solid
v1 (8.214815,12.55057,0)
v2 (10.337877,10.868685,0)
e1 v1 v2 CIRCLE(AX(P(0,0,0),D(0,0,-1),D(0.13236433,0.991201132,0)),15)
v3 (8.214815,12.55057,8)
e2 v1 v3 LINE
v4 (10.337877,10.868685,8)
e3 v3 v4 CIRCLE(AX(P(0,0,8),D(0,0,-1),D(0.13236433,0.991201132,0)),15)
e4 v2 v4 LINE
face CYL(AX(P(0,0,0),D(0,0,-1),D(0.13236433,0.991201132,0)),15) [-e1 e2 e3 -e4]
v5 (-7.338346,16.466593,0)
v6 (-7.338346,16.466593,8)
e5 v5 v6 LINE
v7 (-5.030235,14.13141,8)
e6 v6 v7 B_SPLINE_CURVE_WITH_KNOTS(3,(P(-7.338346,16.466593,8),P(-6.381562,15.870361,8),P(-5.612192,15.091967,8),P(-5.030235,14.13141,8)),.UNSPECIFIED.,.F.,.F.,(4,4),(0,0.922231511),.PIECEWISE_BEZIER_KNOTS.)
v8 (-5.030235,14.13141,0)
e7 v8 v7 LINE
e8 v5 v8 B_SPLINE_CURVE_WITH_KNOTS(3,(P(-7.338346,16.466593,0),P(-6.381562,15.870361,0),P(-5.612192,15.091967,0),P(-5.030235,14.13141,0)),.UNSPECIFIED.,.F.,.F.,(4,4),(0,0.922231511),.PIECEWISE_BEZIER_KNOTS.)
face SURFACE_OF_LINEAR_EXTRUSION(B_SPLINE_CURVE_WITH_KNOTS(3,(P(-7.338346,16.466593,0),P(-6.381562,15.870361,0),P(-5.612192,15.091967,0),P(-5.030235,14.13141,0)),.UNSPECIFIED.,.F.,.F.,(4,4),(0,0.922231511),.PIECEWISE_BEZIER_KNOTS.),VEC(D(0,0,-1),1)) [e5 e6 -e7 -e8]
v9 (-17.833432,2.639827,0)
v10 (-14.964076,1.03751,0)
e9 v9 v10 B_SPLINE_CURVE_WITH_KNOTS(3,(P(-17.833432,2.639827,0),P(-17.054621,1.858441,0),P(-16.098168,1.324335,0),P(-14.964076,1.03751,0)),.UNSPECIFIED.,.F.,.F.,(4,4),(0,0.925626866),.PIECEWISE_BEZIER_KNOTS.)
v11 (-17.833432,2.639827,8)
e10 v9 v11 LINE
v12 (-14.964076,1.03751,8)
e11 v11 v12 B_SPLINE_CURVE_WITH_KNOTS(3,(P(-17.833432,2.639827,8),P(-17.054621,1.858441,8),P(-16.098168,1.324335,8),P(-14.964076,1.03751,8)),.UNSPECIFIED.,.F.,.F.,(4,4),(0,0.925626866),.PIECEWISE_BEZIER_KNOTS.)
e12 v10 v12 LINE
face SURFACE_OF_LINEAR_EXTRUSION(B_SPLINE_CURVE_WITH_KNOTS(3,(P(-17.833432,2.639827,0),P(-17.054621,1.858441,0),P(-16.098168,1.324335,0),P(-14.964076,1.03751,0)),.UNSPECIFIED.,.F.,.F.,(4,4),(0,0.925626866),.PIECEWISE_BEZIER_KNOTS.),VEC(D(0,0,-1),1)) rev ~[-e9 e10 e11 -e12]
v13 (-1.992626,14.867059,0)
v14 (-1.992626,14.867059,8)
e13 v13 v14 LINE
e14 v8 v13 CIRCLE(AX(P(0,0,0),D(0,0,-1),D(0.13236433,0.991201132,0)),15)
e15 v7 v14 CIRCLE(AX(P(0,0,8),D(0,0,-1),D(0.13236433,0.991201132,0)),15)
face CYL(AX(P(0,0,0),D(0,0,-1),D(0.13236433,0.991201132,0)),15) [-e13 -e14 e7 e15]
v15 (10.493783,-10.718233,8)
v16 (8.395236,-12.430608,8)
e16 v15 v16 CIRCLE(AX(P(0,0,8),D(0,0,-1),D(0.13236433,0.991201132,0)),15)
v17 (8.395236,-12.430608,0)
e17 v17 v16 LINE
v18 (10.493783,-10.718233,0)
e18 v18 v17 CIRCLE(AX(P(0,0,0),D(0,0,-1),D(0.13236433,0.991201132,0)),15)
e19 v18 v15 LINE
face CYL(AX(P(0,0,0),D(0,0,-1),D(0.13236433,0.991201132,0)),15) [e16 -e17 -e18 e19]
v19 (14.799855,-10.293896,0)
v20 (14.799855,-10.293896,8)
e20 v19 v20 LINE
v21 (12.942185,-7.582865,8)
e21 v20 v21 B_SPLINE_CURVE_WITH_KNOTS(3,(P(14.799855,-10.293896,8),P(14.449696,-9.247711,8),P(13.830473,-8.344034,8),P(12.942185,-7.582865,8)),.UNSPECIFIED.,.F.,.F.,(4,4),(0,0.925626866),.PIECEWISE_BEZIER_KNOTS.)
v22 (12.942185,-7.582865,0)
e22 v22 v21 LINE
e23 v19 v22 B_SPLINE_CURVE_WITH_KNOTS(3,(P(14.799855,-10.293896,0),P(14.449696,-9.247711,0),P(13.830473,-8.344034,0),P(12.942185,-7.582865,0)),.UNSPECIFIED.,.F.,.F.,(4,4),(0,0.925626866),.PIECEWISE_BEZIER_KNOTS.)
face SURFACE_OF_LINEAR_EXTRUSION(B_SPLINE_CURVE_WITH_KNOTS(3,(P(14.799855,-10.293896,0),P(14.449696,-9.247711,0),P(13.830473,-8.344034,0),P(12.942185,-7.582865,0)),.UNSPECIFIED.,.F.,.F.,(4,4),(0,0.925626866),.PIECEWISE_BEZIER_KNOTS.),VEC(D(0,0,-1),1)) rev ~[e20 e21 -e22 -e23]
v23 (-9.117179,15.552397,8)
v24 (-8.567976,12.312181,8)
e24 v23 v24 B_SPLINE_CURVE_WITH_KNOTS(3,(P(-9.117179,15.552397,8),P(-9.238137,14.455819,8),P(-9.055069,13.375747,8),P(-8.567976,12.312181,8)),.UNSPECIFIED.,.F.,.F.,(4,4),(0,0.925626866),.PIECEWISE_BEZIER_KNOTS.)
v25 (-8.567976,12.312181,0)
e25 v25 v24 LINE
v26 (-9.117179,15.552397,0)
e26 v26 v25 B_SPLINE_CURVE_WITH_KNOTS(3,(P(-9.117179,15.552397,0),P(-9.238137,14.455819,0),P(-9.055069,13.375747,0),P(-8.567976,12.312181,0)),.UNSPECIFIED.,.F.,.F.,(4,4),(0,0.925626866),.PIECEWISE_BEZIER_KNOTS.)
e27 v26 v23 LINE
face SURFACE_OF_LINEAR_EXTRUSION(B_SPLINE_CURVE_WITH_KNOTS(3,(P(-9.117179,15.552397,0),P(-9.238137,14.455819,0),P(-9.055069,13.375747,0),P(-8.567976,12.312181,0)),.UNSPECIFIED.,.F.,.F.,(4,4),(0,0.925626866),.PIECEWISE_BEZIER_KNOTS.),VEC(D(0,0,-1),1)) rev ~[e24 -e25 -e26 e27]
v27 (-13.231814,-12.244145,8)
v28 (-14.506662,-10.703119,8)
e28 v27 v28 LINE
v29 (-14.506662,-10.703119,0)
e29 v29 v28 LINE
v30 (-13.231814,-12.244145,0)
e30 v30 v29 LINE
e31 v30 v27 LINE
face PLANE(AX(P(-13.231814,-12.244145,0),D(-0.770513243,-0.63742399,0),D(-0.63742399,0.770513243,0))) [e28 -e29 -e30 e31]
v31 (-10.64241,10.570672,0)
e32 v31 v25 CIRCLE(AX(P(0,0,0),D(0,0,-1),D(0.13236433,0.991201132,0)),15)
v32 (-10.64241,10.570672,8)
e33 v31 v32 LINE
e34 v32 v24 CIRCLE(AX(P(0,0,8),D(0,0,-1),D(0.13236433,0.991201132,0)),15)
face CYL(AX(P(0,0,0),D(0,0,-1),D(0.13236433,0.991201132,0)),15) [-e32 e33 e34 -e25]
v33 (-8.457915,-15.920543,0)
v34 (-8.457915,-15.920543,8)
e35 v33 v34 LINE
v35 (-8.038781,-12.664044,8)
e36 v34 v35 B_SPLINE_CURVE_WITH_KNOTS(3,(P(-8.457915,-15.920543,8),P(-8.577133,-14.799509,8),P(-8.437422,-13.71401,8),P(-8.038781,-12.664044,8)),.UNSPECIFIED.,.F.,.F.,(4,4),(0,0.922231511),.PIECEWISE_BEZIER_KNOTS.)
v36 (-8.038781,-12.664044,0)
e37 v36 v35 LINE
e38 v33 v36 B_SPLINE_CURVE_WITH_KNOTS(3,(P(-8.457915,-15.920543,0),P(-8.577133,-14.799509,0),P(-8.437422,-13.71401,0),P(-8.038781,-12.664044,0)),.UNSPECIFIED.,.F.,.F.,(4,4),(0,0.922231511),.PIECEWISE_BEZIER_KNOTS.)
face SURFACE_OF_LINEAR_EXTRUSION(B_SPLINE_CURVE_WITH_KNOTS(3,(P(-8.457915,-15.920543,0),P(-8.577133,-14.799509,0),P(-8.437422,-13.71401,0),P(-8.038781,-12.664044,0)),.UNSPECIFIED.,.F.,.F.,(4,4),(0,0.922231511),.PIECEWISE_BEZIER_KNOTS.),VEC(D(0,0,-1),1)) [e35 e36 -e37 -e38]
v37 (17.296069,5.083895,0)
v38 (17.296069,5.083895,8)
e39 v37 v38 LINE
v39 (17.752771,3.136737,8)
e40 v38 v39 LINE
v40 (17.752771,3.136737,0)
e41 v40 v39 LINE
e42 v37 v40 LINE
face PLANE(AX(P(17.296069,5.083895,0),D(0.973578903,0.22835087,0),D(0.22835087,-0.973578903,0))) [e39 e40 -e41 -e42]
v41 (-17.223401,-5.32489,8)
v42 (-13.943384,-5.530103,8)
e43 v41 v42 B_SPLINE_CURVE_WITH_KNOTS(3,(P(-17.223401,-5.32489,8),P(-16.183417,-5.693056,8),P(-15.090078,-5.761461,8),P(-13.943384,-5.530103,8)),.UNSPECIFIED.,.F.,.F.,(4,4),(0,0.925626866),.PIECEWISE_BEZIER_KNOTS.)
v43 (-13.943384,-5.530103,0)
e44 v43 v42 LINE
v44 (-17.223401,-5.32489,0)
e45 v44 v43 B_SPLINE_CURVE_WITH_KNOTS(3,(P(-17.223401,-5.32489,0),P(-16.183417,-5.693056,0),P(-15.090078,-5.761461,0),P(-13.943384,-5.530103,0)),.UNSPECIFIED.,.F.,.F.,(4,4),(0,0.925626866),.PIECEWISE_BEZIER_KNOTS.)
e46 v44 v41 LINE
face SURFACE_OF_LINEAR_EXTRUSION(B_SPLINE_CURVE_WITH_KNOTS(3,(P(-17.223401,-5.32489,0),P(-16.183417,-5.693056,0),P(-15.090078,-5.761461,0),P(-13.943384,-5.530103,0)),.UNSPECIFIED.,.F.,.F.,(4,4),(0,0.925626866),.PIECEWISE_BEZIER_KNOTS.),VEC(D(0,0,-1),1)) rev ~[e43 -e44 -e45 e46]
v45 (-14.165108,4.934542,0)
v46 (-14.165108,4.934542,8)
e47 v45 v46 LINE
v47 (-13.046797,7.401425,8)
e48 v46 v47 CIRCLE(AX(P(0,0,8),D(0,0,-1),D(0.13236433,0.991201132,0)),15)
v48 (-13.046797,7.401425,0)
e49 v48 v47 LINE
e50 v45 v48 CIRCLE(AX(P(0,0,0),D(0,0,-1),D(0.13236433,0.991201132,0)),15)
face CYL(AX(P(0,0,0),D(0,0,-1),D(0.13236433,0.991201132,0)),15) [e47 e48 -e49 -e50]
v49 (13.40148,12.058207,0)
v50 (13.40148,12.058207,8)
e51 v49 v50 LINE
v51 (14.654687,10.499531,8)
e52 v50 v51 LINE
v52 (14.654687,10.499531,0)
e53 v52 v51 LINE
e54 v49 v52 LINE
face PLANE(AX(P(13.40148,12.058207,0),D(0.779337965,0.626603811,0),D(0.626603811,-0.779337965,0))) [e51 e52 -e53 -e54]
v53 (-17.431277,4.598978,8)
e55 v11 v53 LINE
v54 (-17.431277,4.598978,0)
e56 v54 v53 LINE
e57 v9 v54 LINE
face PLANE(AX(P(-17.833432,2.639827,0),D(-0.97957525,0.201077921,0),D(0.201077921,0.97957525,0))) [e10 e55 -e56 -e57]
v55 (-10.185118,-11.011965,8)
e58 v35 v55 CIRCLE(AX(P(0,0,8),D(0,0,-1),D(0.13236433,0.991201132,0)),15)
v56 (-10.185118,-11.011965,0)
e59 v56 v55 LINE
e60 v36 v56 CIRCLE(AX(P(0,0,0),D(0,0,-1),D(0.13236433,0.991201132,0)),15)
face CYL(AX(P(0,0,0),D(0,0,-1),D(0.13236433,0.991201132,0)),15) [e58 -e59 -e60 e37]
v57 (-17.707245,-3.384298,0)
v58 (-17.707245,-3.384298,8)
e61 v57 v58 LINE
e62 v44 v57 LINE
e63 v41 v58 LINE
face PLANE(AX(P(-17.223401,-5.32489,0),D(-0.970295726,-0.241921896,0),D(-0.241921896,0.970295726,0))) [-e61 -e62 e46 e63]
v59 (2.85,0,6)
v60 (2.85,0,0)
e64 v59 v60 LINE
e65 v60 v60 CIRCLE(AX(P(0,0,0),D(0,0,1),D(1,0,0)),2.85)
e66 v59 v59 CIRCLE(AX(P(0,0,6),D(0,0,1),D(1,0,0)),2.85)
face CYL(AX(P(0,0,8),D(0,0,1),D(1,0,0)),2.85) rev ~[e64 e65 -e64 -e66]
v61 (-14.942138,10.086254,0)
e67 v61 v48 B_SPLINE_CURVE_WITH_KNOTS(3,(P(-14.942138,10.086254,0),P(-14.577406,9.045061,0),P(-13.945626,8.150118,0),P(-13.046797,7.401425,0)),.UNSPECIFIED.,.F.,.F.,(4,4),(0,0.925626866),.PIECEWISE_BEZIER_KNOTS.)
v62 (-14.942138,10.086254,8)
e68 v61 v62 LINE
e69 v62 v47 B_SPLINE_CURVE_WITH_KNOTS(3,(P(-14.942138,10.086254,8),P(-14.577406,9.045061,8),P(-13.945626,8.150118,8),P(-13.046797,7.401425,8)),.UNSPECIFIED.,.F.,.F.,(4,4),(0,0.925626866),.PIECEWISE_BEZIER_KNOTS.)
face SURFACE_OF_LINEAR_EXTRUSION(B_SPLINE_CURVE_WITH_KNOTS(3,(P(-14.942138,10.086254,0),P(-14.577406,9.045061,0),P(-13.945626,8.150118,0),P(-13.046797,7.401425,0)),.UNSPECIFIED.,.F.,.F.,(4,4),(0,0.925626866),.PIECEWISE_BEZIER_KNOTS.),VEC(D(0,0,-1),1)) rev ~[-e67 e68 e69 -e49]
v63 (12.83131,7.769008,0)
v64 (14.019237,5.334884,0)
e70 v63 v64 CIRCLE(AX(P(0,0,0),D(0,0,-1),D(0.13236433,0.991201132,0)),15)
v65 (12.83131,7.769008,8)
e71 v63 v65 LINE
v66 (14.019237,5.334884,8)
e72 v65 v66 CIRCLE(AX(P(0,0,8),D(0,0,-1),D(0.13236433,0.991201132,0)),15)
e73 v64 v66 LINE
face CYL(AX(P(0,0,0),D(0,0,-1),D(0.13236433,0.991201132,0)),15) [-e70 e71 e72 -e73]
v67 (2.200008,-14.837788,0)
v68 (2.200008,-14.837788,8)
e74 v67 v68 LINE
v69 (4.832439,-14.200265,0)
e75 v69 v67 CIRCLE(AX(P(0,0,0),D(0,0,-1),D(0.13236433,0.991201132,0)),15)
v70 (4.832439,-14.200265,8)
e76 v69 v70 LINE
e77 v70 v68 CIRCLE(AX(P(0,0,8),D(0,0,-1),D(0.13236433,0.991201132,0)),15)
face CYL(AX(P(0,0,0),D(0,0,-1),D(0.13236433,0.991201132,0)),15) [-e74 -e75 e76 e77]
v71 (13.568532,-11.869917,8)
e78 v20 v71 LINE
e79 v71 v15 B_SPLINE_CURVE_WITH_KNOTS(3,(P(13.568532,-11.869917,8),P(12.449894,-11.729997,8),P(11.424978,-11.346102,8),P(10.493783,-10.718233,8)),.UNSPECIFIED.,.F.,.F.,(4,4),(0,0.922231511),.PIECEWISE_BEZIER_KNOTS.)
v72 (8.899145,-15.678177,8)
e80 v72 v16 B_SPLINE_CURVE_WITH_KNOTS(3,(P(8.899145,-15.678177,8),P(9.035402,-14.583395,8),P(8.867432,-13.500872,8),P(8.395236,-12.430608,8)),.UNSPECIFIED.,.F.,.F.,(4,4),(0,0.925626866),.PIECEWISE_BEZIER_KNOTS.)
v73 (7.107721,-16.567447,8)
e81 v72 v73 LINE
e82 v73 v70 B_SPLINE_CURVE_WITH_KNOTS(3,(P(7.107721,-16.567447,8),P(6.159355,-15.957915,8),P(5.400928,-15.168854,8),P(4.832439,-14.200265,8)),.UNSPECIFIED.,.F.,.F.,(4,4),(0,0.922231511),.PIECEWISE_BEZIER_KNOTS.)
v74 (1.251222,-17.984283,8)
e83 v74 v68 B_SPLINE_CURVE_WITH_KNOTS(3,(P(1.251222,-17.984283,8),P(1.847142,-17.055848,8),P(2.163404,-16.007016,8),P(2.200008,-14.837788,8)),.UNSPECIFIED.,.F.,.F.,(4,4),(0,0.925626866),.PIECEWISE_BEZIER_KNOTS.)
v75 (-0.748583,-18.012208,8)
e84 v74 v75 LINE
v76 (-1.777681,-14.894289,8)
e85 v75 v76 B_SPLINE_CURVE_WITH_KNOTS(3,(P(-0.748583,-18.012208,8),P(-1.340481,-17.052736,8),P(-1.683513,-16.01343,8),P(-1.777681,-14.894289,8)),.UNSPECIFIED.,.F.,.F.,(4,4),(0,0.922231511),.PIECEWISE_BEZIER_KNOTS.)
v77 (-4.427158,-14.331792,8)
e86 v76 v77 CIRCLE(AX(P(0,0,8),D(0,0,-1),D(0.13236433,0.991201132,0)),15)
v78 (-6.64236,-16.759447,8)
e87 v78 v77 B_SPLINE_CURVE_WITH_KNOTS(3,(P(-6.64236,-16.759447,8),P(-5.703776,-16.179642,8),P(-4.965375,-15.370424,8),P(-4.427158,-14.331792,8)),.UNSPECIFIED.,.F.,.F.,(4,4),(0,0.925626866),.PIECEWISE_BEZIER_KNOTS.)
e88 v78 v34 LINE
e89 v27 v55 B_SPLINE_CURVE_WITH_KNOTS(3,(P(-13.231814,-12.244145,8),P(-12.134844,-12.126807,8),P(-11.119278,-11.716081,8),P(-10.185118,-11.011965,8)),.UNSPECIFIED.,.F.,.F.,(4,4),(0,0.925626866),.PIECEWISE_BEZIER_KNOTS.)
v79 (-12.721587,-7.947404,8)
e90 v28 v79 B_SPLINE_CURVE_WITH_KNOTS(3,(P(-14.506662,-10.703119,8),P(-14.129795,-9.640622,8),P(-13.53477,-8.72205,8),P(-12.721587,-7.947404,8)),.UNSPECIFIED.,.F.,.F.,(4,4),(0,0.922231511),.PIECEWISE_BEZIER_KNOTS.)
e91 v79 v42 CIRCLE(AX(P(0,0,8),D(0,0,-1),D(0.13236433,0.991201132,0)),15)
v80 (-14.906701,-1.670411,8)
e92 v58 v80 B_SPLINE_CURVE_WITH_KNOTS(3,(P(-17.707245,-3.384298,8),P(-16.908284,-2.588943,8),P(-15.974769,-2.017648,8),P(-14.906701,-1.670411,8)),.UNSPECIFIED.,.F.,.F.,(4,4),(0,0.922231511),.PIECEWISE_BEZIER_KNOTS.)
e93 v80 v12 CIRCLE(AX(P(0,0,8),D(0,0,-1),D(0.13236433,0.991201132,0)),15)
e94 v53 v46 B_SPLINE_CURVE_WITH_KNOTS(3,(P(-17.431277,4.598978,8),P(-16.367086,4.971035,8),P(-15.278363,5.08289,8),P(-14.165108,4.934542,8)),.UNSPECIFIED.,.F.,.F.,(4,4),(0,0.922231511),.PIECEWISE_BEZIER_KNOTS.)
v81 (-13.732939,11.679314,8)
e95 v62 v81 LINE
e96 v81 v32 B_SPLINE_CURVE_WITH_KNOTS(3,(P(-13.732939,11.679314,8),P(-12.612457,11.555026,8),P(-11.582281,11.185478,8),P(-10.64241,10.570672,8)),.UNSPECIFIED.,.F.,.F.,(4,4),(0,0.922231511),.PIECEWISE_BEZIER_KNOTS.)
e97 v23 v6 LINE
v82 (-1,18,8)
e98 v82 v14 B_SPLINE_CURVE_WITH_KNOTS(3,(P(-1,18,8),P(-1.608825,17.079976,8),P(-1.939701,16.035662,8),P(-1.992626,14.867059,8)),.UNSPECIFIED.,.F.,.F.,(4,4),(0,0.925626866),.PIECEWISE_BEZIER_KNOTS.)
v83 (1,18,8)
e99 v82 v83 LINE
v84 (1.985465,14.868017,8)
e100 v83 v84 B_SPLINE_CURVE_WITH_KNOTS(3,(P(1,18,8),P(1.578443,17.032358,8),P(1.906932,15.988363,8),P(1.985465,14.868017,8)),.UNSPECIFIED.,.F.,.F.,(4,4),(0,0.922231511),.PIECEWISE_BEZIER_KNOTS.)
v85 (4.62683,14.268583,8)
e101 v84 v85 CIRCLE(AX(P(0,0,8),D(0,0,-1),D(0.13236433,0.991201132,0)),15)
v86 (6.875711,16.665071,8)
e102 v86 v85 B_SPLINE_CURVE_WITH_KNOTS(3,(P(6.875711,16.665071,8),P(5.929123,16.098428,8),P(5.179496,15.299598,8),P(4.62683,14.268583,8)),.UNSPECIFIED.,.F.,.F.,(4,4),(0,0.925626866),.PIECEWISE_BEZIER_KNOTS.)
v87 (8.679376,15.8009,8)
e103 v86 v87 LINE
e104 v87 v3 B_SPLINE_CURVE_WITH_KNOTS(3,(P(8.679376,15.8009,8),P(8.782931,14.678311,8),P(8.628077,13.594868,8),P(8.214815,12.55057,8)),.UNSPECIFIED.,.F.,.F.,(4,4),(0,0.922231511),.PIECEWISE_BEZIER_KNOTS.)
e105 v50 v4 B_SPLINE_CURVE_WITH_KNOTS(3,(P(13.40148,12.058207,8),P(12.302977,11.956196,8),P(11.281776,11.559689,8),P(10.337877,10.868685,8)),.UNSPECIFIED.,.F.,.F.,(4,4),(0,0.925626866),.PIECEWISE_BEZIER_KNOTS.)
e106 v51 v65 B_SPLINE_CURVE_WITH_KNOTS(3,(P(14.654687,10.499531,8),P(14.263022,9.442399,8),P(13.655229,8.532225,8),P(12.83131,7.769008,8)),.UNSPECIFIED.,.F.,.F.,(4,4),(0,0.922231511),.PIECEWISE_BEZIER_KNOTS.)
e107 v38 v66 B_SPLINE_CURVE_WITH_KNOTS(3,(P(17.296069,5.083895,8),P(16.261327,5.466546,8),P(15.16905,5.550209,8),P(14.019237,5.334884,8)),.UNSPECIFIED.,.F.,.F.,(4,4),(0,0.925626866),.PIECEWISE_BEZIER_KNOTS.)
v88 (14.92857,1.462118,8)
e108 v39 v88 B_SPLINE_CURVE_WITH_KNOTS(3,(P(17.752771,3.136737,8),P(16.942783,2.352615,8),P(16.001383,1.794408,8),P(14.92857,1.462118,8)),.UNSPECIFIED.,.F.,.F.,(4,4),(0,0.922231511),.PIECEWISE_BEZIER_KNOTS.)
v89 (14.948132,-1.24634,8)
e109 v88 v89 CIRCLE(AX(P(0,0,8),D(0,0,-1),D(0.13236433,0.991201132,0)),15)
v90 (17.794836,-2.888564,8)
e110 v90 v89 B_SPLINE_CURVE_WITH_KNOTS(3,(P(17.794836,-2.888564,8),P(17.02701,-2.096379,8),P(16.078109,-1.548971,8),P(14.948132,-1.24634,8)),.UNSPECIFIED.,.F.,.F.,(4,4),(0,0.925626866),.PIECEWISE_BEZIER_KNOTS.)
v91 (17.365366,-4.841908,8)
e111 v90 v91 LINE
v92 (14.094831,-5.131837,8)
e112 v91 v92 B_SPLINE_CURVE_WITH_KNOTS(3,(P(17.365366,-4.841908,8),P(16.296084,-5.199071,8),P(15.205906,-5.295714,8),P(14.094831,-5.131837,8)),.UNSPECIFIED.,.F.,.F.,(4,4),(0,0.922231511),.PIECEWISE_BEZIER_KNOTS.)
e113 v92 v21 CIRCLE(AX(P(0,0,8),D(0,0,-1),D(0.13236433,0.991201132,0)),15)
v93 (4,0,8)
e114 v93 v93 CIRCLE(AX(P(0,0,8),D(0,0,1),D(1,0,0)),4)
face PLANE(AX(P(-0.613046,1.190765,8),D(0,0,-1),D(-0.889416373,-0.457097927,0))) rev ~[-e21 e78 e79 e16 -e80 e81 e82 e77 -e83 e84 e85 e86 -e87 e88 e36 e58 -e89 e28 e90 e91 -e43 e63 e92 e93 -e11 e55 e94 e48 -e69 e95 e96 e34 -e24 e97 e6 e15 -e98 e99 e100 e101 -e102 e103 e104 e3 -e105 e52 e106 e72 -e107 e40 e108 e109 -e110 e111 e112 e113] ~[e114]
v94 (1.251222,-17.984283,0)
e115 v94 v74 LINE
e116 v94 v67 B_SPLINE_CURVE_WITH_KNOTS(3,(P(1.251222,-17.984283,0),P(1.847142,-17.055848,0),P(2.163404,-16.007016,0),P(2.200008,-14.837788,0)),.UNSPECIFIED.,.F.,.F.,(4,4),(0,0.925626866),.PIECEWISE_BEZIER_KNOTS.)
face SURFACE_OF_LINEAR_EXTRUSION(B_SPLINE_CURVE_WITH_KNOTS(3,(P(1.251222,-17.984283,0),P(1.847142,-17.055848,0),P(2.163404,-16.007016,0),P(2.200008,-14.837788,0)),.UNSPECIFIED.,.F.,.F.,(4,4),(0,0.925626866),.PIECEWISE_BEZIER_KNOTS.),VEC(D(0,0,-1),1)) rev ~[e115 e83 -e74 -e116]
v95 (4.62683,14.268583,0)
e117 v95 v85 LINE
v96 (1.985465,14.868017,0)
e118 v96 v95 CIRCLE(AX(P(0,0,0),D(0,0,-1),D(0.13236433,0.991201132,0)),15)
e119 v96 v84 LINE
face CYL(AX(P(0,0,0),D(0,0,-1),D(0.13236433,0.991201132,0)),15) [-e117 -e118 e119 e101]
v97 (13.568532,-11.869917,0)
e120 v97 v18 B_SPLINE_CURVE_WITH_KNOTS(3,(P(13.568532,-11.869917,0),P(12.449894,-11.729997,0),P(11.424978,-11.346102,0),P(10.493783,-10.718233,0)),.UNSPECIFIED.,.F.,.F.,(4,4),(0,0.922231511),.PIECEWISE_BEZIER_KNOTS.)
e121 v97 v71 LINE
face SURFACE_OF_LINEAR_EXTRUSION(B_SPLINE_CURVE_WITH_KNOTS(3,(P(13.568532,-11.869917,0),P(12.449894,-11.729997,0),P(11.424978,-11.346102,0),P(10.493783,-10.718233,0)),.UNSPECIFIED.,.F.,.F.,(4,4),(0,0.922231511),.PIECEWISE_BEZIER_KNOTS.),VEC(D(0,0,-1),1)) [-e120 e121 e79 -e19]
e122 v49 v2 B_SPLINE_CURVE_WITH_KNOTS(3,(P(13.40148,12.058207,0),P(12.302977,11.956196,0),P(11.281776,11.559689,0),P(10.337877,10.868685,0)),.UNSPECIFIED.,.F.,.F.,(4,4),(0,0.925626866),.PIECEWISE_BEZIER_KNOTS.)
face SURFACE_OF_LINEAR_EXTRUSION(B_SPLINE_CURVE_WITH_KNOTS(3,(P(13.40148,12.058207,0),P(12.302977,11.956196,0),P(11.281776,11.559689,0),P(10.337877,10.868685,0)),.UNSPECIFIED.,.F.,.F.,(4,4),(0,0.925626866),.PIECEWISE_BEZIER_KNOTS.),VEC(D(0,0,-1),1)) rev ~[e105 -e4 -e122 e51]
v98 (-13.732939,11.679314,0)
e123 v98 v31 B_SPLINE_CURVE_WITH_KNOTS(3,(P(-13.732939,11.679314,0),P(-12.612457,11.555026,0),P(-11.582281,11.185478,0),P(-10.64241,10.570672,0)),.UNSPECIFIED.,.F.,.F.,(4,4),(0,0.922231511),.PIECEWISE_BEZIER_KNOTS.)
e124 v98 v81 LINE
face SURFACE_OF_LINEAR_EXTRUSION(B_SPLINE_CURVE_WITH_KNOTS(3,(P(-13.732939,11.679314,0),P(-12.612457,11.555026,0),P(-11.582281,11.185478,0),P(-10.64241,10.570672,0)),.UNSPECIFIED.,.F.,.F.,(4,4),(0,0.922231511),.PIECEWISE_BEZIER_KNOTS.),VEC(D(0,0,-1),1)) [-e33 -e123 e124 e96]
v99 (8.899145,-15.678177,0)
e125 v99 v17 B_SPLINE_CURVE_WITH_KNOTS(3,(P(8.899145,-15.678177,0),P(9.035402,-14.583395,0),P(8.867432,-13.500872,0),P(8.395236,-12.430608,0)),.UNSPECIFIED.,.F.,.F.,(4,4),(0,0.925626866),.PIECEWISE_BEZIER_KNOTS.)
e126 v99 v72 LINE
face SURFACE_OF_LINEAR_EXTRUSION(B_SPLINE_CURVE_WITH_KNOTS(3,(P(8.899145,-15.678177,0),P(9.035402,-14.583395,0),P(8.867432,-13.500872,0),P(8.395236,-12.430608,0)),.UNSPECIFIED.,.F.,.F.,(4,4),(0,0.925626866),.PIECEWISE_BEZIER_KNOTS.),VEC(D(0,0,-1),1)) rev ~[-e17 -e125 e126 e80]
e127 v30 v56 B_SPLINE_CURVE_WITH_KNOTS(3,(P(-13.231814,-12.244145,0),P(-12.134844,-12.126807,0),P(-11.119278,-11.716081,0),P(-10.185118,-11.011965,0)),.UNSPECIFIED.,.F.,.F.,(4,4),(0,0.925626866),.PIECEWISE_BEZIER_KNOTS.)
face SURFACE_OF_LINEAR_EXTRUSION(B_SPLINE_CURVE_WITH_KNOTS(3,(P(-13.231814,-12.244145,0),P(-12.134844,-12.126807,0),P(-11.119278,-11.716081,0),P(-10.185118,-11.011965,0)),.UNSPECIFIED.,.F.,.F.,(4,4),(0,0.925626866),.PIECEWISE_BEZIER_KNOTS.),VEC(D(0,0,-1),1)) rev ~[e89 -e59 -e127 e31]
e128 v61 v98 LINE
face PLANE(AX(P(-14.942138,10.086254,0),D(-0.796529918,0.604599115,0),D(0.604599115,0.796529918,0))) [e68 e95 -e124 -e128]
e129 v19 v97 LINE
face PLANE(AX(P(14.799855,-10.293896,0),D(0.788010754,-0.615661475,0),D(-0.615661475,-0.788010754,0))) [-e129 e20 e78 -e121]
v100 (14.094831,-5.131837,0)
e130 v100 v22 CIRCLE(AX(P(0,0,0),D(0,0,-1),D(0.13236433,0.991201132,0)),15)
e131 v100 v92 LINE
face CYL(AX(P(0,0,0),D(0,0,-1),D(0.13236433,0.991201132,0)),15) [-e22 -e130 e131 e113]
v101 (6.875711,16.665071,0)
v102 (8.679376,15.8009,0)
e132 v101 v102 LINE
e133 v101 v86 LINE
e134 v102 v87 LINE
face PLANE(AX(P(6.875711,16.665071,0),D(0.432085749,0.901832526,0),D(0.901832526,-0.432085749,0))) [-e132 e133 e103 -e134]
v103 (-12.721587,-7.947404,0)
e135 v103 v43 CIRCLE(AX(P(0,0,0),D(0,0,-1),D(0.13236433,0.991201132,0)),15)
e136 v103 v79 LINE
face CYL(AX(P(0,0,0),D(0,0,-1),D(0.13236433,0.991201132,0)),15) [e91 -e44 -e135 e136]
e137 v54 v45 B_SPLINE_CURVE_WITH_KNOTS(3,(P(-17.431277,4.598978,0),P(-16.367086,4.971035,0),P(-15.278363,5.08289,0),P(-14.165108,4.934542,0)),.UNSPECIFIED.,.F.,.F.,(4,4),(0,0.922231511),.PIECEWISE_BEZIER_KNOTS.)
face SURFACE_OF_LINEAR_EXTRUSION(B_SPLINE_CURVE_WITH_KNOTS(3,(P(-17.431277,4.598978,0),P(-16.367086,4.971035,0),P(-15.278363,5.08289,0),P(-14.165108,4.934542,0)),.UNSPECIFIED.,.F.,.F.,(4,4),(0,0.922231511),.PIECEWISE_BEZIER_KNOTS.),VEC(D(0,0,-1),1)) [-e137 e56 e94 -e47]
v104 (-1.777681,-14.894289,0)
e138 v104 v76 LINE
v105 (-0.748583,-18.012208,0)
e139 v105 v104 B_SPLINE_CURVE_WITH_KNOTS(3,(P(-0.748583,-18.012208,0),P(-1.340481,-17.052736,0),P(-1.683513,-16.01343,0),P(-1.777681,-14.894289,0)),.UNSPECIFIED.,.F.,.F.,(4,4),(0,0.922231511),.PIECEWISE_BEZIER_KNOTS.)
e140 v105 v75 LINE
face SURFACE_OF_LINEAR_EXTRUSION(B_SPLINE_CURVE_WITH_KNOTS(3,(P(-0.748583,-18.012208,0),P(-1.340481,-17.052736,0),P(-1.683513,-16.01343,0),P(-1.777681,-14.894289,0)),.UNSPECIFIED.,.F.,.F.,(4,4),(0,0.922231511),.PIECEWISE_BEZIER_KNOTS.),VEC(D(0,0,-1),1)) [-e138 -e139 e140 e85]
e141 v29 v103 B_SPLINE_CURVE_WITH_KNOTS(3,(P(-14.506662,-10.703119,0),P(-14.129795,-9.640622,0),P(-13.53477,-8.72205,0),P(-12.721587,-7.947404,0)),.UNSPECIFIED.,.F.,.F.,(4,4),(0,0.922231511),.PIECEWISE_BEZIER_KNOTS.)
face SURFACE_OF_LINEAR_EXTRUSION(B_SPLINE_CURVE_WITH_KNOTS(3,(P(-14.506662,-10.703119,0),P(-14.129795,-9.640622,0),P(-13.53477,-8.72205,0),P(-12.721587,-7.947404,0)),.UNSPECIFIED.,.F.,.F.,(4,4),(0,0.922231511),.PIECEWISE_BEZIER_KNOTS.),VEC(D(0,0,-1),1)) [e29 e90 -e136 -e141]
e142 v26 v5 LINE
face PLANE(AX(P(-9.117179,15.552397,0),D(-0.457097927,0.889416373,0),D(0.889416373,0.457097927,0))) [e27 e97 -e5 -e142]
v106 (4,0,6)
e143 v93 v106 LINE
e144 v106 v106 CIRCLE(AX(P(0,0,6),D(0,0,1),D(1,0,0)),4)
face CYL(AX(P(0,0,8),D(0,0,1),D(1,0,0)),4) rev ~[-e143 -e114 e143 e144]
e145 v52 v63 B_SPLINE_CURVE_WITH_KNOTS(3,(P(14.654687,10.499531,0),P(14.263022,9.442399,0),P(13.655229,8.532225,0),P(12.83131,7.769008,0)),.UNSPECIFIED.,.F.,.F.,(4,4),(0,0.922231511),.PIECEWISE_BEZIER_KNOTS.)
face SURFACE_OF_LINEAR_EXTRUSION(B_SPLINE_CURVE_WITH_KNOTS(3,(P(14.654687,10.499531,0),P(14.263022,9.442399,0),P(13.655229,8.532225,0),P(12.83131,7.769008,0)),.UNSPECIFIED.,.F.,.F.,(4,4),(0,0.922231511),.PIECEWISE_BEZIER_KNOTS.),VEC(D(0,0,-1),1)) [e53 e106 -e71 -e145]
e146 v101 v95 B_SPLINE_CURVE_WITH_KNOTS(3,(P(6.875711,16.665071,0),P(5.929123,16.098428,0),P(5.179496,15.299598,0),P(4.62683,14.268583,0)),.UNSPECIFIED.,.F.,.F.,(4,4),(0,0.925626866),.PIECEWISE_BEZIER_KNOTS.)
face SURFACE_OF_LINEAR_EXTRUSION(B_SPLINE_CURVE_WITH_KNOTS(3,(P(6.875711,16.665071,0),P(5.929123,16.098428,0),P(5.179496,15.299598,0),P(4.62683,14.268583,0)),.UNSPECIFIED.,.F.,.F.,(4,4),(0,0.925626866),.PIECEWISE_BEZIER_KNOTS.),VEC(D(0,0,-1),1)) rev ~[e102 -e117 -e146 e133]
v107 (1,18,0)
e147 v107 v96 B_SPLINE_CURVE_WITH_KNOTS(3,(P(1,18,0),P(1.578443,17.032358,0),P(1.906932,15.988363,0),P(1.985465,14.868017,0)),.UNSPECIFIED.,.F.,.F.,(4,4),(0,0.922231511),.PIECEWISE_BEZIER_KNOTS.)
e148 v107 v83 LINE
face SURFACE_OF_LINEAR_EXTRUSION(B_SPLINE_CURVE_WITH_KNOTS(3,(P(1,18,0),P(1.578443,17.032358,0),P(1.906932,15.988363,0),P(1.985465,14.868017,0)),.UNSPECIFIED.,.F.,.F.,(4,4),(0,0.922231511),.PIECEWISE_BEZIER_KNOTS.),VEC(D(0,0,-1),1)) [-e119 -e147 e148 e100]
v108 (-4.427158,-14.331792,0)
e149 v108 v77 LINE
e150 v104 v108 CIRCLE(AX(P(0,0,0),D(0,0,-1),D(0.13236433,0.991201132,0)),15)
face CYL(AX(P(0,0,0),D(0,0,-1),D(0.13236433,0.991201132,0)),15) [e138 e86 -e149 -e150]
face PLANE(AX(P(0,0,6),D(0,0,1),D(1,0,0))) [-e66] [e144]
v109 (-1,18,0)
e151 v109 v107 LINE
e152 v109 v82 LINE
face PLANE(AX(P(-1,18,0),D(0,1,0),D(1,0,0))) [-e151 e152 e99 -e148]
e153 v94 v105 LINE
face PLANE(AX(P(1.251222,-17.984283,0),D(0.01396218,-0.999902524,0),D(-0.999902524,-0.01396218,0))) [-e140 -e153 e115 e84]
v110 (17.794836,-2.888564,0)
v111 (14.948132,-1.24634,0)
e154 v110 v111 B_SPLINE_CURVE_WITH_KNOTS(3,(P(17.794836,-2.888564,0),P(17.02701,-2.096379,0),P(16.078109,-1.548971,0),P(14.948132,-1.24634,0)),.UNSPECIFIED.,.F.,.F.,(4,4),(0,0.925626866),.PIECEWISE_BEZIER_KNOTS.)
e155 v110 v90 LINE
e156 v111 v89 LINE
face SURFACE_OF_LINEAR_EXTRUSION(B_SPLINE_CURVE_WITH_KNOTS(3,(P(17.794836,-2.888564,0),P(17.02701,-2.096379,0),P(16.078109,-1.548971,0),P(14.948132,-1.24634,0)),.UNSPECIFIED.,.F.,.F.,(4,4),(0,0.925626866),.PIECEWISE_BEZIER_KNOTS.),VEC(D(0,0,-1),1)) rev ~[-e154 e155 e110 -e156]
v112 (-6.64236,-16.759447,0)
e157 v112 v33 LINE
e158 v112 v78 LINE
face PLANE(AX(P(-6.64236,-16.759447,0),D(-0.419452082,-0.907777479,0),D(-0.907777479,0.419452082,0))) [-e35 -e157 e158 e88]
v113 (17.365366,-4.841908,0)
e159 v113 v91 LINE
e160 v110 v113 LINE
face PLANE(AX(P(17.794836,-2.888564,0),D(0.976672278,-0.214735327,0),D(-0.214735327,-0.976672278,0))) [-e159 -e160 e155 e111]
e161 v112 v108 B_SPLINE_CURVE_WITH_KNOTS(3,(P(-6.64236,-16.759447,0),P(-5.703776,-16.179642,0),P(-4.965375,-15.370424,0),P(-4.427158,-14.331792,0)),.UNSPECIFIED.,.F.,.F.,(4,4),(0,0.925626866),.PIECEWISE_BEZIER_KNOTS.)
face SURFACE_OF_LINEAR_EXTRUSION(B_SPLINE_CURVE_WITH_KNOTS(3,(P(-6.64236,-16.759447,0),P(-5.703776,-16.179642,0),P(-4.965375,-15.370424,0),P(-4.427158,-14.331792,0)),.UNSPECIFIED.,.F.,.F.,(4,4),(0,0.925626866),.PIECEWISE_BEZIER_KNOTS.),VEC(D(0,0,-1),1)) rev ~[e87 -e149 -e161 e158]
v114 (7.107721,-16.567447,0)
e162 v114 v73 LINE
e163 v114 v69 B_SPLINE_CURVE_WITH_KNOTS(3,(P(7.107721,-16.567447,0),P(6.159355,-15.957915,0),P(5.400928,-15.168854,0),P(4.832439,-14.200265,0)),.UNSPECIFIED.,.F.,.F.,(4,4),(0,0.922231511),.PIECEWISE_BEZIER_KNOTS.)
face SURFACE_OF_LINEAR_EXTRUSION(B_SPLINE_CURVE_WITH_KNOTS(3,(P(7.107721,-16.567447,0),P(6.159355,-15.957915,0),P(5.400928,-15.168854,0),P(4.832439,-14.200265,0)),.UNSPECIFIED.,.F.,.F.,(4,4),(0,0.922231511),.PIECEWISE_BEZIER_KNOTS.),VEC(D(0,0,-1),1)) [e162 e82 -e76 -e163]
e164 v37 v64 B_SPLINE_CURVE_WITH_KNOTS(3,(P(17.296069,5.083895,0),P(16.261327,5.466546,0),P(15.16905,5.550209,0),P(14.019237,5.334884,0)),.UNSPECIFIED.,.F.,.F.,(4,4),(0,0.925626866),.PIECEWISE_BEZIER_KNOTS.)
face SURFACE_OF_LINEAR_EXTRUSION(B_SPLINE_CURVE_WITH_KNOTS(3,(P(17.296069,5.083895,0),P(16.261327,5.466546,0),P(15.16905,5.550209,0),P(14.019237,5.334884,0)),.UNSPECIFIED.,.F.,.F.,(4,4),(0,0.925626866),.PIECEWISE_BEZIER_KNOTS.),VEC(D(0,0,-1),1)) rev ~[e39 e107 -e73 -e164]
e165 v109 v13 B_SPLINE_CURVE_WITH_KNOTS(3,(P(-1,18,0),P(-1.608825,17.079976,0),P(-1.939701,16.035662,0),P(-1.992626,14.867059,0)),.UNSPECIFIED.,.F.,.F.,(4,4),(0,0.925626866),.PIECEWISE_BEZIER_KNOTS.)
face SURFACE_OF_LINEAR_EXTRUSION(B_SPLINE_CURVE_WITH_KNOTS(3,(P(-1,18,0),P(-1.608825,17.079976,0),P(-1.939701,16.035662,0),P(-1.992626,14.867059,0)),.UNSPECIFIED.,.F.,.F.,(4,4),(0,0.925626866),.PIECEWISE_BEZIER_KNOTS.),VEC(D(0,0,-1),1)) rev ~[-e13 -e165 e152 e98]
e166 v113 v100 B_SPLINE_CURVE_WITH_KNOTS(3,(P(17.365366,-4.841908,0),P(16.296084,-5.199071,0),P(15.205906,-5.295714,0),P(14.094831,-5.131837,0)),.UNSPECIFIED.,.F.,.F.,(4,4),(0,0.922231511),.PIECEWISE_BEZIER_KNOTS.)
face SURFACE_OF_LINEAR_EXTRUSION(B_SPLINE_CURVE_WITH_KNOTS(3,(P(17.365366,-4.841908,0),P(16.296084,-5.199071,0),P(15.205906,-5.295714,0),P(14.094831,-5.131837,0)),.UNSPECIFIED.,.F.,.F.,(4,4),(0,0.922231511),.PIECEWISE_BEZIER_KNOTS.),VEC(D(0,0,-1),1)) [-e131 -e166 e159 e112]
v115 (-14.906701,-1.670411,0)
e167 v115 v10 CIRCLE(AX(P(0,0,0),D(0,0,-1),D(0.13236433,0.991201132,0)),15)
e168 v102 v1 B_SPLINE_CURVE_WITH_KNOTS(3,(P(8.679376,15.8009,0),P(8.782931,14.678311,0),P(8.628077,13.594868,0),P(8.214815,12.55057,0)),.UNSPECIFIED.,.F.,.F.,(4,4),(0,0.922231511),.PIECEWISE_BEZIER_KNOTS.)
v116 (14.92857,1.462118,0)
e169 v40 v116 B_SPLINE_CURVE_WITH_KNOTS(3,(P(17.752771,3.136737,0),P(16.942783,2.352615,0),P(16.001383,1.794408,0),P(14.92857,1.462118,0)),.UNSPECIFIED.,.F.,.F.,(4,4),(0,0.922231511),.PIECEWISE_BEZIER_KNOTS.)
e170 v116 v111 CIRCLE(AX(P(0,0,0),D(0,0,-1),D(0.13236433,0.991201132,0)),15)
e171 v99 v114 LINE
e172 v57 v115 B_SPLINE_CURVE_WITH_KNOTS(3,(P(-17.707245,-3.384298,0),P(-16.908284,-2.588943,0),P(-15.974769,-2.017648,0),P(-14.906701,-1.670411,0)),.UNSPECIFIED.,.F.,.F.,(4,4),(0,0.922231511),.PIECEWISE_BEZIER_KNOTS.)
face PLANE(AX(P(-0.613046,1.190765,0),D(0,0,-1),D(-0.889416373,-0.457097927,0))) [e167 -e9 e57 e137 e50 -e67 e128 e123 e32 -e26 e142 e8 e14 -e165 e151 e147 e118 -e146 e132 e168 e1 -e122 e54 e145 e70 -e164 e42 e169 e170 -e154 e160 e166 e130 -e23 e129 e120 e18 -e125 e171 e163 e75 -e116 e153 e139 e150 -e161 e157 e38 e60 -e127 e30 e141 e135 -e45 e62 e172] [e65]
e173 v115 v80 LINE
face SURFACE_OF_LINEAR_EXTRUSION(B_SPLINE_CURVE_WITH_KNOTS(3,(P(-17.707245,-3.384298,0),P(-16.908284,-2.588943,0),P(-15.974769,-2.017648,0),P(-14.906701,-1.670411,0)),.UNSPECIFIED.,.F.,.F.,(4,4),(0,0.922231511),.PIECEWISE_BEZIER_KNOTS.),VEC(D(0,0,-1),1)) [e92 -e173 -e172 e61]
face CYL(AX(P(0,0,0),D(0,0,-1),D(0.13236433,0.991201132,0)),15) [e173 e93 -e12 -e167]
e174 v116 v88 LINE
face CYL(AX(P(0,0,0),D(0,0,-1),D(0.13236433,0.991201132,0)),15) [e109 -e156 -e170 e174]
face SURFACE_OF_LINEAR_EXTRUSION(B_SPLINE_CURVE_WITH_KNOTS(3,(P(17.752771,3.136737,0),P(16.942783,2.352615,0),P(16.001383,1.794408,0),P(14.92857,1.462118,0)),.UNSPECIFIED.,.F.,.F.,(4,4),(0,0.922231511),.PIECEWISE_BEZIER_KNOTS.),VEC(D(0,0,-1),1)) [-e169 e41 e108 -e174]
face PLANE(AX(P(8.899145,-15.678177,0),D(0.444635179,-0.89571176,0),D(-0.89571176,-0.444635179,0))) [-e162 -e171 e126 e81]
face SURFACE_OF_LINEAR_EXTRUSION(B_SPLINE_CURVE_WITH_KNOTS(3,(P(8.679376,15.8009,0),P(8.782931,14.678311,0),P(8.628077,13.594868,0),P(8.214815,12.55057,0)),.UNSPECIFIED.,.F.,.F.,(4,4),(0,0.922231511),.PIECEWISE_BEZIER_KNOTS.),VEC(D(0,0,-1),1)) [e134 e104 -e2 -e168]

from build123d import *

# Parameters (mm, degrees)
BOSS_EXTRUDE1_DEPTH = 8
CIRPATTERN1_COUNT   = 14
CIRPATTERN1_ANGLE   = 332.8
SKETCH3_R           = 4
CUT_EXTRUDE2_DEPTH  = 2
SKETCH2_R           = 2.85
CUT_EXTRUDE4_DEPTH  = 14


with BuildPart() as part:
    # Sketch1 → Boss-Extrude1 (new body)
    with BuildSketch(Plane.XY):
        with BuildLine():
            Line((-1, 18), (1, 18))
            add(Edge.make_bspline(
                [(1, 18), (1.578443342, 17.032357733), (1.90693166, 15.988363393), (1.985464954, 14.86801698)],
                knots=[0, 0, 0, 0, 0.922231511, 0.922231511, 0.922231511, 0.922231511], degree=3))
            ThreePointArc((1.985464954, 14.86801698), (0.003612333, -14.999999565), (-1.99262582, 14.867058967))
            add(Edge.make_bspline(
                [(-1, 18), (-1.608825246, 17.079975603), (-1.93970052, 16.035661926), (-1.99262582, 14.867058967)],
                knots=[0, 0, 0, 0, 0.925626866, 0.925626866, 0.925626866, 0.925626866], degree=3))
        make_face()
    boss_extrude1 = extrude(amount=BOSS_EXTRUDE1_DEPTH)

    # CirPattern1: Boss-Extrude1 ×14 about axis
    cirpattern1_axis = Axis((0, 0, 8), (0, 0, -1))
    for i in range(1, CIRPATTERN1_COUNT):
        add(boss_extrude1.rotate(cirpattern1_axis, i * CIRPATTERN1_ANGLE / (CIRPATTERN1_COUNT - 1)))

    # Sketch3 → Cut-Extrude2 (cut)
    with BuildSketch(Plane.XY.offset(8)):
        Circle(SKETCH3_R)
    extrude(amount=-CUT_EXTRUDE2_DEPTH, mode=Mode.SUBTRACT)

    # Sketch2 → Cut-Extrude4 (cut)
    with BuildSketch(Plane.XY.offset(8)):
        Circle(SKETCH2_R)
    extrude(amount=-CUT_EXTRUDE4_DEPTH, mode=Mode.SUBTRACT)


solid = part.part
